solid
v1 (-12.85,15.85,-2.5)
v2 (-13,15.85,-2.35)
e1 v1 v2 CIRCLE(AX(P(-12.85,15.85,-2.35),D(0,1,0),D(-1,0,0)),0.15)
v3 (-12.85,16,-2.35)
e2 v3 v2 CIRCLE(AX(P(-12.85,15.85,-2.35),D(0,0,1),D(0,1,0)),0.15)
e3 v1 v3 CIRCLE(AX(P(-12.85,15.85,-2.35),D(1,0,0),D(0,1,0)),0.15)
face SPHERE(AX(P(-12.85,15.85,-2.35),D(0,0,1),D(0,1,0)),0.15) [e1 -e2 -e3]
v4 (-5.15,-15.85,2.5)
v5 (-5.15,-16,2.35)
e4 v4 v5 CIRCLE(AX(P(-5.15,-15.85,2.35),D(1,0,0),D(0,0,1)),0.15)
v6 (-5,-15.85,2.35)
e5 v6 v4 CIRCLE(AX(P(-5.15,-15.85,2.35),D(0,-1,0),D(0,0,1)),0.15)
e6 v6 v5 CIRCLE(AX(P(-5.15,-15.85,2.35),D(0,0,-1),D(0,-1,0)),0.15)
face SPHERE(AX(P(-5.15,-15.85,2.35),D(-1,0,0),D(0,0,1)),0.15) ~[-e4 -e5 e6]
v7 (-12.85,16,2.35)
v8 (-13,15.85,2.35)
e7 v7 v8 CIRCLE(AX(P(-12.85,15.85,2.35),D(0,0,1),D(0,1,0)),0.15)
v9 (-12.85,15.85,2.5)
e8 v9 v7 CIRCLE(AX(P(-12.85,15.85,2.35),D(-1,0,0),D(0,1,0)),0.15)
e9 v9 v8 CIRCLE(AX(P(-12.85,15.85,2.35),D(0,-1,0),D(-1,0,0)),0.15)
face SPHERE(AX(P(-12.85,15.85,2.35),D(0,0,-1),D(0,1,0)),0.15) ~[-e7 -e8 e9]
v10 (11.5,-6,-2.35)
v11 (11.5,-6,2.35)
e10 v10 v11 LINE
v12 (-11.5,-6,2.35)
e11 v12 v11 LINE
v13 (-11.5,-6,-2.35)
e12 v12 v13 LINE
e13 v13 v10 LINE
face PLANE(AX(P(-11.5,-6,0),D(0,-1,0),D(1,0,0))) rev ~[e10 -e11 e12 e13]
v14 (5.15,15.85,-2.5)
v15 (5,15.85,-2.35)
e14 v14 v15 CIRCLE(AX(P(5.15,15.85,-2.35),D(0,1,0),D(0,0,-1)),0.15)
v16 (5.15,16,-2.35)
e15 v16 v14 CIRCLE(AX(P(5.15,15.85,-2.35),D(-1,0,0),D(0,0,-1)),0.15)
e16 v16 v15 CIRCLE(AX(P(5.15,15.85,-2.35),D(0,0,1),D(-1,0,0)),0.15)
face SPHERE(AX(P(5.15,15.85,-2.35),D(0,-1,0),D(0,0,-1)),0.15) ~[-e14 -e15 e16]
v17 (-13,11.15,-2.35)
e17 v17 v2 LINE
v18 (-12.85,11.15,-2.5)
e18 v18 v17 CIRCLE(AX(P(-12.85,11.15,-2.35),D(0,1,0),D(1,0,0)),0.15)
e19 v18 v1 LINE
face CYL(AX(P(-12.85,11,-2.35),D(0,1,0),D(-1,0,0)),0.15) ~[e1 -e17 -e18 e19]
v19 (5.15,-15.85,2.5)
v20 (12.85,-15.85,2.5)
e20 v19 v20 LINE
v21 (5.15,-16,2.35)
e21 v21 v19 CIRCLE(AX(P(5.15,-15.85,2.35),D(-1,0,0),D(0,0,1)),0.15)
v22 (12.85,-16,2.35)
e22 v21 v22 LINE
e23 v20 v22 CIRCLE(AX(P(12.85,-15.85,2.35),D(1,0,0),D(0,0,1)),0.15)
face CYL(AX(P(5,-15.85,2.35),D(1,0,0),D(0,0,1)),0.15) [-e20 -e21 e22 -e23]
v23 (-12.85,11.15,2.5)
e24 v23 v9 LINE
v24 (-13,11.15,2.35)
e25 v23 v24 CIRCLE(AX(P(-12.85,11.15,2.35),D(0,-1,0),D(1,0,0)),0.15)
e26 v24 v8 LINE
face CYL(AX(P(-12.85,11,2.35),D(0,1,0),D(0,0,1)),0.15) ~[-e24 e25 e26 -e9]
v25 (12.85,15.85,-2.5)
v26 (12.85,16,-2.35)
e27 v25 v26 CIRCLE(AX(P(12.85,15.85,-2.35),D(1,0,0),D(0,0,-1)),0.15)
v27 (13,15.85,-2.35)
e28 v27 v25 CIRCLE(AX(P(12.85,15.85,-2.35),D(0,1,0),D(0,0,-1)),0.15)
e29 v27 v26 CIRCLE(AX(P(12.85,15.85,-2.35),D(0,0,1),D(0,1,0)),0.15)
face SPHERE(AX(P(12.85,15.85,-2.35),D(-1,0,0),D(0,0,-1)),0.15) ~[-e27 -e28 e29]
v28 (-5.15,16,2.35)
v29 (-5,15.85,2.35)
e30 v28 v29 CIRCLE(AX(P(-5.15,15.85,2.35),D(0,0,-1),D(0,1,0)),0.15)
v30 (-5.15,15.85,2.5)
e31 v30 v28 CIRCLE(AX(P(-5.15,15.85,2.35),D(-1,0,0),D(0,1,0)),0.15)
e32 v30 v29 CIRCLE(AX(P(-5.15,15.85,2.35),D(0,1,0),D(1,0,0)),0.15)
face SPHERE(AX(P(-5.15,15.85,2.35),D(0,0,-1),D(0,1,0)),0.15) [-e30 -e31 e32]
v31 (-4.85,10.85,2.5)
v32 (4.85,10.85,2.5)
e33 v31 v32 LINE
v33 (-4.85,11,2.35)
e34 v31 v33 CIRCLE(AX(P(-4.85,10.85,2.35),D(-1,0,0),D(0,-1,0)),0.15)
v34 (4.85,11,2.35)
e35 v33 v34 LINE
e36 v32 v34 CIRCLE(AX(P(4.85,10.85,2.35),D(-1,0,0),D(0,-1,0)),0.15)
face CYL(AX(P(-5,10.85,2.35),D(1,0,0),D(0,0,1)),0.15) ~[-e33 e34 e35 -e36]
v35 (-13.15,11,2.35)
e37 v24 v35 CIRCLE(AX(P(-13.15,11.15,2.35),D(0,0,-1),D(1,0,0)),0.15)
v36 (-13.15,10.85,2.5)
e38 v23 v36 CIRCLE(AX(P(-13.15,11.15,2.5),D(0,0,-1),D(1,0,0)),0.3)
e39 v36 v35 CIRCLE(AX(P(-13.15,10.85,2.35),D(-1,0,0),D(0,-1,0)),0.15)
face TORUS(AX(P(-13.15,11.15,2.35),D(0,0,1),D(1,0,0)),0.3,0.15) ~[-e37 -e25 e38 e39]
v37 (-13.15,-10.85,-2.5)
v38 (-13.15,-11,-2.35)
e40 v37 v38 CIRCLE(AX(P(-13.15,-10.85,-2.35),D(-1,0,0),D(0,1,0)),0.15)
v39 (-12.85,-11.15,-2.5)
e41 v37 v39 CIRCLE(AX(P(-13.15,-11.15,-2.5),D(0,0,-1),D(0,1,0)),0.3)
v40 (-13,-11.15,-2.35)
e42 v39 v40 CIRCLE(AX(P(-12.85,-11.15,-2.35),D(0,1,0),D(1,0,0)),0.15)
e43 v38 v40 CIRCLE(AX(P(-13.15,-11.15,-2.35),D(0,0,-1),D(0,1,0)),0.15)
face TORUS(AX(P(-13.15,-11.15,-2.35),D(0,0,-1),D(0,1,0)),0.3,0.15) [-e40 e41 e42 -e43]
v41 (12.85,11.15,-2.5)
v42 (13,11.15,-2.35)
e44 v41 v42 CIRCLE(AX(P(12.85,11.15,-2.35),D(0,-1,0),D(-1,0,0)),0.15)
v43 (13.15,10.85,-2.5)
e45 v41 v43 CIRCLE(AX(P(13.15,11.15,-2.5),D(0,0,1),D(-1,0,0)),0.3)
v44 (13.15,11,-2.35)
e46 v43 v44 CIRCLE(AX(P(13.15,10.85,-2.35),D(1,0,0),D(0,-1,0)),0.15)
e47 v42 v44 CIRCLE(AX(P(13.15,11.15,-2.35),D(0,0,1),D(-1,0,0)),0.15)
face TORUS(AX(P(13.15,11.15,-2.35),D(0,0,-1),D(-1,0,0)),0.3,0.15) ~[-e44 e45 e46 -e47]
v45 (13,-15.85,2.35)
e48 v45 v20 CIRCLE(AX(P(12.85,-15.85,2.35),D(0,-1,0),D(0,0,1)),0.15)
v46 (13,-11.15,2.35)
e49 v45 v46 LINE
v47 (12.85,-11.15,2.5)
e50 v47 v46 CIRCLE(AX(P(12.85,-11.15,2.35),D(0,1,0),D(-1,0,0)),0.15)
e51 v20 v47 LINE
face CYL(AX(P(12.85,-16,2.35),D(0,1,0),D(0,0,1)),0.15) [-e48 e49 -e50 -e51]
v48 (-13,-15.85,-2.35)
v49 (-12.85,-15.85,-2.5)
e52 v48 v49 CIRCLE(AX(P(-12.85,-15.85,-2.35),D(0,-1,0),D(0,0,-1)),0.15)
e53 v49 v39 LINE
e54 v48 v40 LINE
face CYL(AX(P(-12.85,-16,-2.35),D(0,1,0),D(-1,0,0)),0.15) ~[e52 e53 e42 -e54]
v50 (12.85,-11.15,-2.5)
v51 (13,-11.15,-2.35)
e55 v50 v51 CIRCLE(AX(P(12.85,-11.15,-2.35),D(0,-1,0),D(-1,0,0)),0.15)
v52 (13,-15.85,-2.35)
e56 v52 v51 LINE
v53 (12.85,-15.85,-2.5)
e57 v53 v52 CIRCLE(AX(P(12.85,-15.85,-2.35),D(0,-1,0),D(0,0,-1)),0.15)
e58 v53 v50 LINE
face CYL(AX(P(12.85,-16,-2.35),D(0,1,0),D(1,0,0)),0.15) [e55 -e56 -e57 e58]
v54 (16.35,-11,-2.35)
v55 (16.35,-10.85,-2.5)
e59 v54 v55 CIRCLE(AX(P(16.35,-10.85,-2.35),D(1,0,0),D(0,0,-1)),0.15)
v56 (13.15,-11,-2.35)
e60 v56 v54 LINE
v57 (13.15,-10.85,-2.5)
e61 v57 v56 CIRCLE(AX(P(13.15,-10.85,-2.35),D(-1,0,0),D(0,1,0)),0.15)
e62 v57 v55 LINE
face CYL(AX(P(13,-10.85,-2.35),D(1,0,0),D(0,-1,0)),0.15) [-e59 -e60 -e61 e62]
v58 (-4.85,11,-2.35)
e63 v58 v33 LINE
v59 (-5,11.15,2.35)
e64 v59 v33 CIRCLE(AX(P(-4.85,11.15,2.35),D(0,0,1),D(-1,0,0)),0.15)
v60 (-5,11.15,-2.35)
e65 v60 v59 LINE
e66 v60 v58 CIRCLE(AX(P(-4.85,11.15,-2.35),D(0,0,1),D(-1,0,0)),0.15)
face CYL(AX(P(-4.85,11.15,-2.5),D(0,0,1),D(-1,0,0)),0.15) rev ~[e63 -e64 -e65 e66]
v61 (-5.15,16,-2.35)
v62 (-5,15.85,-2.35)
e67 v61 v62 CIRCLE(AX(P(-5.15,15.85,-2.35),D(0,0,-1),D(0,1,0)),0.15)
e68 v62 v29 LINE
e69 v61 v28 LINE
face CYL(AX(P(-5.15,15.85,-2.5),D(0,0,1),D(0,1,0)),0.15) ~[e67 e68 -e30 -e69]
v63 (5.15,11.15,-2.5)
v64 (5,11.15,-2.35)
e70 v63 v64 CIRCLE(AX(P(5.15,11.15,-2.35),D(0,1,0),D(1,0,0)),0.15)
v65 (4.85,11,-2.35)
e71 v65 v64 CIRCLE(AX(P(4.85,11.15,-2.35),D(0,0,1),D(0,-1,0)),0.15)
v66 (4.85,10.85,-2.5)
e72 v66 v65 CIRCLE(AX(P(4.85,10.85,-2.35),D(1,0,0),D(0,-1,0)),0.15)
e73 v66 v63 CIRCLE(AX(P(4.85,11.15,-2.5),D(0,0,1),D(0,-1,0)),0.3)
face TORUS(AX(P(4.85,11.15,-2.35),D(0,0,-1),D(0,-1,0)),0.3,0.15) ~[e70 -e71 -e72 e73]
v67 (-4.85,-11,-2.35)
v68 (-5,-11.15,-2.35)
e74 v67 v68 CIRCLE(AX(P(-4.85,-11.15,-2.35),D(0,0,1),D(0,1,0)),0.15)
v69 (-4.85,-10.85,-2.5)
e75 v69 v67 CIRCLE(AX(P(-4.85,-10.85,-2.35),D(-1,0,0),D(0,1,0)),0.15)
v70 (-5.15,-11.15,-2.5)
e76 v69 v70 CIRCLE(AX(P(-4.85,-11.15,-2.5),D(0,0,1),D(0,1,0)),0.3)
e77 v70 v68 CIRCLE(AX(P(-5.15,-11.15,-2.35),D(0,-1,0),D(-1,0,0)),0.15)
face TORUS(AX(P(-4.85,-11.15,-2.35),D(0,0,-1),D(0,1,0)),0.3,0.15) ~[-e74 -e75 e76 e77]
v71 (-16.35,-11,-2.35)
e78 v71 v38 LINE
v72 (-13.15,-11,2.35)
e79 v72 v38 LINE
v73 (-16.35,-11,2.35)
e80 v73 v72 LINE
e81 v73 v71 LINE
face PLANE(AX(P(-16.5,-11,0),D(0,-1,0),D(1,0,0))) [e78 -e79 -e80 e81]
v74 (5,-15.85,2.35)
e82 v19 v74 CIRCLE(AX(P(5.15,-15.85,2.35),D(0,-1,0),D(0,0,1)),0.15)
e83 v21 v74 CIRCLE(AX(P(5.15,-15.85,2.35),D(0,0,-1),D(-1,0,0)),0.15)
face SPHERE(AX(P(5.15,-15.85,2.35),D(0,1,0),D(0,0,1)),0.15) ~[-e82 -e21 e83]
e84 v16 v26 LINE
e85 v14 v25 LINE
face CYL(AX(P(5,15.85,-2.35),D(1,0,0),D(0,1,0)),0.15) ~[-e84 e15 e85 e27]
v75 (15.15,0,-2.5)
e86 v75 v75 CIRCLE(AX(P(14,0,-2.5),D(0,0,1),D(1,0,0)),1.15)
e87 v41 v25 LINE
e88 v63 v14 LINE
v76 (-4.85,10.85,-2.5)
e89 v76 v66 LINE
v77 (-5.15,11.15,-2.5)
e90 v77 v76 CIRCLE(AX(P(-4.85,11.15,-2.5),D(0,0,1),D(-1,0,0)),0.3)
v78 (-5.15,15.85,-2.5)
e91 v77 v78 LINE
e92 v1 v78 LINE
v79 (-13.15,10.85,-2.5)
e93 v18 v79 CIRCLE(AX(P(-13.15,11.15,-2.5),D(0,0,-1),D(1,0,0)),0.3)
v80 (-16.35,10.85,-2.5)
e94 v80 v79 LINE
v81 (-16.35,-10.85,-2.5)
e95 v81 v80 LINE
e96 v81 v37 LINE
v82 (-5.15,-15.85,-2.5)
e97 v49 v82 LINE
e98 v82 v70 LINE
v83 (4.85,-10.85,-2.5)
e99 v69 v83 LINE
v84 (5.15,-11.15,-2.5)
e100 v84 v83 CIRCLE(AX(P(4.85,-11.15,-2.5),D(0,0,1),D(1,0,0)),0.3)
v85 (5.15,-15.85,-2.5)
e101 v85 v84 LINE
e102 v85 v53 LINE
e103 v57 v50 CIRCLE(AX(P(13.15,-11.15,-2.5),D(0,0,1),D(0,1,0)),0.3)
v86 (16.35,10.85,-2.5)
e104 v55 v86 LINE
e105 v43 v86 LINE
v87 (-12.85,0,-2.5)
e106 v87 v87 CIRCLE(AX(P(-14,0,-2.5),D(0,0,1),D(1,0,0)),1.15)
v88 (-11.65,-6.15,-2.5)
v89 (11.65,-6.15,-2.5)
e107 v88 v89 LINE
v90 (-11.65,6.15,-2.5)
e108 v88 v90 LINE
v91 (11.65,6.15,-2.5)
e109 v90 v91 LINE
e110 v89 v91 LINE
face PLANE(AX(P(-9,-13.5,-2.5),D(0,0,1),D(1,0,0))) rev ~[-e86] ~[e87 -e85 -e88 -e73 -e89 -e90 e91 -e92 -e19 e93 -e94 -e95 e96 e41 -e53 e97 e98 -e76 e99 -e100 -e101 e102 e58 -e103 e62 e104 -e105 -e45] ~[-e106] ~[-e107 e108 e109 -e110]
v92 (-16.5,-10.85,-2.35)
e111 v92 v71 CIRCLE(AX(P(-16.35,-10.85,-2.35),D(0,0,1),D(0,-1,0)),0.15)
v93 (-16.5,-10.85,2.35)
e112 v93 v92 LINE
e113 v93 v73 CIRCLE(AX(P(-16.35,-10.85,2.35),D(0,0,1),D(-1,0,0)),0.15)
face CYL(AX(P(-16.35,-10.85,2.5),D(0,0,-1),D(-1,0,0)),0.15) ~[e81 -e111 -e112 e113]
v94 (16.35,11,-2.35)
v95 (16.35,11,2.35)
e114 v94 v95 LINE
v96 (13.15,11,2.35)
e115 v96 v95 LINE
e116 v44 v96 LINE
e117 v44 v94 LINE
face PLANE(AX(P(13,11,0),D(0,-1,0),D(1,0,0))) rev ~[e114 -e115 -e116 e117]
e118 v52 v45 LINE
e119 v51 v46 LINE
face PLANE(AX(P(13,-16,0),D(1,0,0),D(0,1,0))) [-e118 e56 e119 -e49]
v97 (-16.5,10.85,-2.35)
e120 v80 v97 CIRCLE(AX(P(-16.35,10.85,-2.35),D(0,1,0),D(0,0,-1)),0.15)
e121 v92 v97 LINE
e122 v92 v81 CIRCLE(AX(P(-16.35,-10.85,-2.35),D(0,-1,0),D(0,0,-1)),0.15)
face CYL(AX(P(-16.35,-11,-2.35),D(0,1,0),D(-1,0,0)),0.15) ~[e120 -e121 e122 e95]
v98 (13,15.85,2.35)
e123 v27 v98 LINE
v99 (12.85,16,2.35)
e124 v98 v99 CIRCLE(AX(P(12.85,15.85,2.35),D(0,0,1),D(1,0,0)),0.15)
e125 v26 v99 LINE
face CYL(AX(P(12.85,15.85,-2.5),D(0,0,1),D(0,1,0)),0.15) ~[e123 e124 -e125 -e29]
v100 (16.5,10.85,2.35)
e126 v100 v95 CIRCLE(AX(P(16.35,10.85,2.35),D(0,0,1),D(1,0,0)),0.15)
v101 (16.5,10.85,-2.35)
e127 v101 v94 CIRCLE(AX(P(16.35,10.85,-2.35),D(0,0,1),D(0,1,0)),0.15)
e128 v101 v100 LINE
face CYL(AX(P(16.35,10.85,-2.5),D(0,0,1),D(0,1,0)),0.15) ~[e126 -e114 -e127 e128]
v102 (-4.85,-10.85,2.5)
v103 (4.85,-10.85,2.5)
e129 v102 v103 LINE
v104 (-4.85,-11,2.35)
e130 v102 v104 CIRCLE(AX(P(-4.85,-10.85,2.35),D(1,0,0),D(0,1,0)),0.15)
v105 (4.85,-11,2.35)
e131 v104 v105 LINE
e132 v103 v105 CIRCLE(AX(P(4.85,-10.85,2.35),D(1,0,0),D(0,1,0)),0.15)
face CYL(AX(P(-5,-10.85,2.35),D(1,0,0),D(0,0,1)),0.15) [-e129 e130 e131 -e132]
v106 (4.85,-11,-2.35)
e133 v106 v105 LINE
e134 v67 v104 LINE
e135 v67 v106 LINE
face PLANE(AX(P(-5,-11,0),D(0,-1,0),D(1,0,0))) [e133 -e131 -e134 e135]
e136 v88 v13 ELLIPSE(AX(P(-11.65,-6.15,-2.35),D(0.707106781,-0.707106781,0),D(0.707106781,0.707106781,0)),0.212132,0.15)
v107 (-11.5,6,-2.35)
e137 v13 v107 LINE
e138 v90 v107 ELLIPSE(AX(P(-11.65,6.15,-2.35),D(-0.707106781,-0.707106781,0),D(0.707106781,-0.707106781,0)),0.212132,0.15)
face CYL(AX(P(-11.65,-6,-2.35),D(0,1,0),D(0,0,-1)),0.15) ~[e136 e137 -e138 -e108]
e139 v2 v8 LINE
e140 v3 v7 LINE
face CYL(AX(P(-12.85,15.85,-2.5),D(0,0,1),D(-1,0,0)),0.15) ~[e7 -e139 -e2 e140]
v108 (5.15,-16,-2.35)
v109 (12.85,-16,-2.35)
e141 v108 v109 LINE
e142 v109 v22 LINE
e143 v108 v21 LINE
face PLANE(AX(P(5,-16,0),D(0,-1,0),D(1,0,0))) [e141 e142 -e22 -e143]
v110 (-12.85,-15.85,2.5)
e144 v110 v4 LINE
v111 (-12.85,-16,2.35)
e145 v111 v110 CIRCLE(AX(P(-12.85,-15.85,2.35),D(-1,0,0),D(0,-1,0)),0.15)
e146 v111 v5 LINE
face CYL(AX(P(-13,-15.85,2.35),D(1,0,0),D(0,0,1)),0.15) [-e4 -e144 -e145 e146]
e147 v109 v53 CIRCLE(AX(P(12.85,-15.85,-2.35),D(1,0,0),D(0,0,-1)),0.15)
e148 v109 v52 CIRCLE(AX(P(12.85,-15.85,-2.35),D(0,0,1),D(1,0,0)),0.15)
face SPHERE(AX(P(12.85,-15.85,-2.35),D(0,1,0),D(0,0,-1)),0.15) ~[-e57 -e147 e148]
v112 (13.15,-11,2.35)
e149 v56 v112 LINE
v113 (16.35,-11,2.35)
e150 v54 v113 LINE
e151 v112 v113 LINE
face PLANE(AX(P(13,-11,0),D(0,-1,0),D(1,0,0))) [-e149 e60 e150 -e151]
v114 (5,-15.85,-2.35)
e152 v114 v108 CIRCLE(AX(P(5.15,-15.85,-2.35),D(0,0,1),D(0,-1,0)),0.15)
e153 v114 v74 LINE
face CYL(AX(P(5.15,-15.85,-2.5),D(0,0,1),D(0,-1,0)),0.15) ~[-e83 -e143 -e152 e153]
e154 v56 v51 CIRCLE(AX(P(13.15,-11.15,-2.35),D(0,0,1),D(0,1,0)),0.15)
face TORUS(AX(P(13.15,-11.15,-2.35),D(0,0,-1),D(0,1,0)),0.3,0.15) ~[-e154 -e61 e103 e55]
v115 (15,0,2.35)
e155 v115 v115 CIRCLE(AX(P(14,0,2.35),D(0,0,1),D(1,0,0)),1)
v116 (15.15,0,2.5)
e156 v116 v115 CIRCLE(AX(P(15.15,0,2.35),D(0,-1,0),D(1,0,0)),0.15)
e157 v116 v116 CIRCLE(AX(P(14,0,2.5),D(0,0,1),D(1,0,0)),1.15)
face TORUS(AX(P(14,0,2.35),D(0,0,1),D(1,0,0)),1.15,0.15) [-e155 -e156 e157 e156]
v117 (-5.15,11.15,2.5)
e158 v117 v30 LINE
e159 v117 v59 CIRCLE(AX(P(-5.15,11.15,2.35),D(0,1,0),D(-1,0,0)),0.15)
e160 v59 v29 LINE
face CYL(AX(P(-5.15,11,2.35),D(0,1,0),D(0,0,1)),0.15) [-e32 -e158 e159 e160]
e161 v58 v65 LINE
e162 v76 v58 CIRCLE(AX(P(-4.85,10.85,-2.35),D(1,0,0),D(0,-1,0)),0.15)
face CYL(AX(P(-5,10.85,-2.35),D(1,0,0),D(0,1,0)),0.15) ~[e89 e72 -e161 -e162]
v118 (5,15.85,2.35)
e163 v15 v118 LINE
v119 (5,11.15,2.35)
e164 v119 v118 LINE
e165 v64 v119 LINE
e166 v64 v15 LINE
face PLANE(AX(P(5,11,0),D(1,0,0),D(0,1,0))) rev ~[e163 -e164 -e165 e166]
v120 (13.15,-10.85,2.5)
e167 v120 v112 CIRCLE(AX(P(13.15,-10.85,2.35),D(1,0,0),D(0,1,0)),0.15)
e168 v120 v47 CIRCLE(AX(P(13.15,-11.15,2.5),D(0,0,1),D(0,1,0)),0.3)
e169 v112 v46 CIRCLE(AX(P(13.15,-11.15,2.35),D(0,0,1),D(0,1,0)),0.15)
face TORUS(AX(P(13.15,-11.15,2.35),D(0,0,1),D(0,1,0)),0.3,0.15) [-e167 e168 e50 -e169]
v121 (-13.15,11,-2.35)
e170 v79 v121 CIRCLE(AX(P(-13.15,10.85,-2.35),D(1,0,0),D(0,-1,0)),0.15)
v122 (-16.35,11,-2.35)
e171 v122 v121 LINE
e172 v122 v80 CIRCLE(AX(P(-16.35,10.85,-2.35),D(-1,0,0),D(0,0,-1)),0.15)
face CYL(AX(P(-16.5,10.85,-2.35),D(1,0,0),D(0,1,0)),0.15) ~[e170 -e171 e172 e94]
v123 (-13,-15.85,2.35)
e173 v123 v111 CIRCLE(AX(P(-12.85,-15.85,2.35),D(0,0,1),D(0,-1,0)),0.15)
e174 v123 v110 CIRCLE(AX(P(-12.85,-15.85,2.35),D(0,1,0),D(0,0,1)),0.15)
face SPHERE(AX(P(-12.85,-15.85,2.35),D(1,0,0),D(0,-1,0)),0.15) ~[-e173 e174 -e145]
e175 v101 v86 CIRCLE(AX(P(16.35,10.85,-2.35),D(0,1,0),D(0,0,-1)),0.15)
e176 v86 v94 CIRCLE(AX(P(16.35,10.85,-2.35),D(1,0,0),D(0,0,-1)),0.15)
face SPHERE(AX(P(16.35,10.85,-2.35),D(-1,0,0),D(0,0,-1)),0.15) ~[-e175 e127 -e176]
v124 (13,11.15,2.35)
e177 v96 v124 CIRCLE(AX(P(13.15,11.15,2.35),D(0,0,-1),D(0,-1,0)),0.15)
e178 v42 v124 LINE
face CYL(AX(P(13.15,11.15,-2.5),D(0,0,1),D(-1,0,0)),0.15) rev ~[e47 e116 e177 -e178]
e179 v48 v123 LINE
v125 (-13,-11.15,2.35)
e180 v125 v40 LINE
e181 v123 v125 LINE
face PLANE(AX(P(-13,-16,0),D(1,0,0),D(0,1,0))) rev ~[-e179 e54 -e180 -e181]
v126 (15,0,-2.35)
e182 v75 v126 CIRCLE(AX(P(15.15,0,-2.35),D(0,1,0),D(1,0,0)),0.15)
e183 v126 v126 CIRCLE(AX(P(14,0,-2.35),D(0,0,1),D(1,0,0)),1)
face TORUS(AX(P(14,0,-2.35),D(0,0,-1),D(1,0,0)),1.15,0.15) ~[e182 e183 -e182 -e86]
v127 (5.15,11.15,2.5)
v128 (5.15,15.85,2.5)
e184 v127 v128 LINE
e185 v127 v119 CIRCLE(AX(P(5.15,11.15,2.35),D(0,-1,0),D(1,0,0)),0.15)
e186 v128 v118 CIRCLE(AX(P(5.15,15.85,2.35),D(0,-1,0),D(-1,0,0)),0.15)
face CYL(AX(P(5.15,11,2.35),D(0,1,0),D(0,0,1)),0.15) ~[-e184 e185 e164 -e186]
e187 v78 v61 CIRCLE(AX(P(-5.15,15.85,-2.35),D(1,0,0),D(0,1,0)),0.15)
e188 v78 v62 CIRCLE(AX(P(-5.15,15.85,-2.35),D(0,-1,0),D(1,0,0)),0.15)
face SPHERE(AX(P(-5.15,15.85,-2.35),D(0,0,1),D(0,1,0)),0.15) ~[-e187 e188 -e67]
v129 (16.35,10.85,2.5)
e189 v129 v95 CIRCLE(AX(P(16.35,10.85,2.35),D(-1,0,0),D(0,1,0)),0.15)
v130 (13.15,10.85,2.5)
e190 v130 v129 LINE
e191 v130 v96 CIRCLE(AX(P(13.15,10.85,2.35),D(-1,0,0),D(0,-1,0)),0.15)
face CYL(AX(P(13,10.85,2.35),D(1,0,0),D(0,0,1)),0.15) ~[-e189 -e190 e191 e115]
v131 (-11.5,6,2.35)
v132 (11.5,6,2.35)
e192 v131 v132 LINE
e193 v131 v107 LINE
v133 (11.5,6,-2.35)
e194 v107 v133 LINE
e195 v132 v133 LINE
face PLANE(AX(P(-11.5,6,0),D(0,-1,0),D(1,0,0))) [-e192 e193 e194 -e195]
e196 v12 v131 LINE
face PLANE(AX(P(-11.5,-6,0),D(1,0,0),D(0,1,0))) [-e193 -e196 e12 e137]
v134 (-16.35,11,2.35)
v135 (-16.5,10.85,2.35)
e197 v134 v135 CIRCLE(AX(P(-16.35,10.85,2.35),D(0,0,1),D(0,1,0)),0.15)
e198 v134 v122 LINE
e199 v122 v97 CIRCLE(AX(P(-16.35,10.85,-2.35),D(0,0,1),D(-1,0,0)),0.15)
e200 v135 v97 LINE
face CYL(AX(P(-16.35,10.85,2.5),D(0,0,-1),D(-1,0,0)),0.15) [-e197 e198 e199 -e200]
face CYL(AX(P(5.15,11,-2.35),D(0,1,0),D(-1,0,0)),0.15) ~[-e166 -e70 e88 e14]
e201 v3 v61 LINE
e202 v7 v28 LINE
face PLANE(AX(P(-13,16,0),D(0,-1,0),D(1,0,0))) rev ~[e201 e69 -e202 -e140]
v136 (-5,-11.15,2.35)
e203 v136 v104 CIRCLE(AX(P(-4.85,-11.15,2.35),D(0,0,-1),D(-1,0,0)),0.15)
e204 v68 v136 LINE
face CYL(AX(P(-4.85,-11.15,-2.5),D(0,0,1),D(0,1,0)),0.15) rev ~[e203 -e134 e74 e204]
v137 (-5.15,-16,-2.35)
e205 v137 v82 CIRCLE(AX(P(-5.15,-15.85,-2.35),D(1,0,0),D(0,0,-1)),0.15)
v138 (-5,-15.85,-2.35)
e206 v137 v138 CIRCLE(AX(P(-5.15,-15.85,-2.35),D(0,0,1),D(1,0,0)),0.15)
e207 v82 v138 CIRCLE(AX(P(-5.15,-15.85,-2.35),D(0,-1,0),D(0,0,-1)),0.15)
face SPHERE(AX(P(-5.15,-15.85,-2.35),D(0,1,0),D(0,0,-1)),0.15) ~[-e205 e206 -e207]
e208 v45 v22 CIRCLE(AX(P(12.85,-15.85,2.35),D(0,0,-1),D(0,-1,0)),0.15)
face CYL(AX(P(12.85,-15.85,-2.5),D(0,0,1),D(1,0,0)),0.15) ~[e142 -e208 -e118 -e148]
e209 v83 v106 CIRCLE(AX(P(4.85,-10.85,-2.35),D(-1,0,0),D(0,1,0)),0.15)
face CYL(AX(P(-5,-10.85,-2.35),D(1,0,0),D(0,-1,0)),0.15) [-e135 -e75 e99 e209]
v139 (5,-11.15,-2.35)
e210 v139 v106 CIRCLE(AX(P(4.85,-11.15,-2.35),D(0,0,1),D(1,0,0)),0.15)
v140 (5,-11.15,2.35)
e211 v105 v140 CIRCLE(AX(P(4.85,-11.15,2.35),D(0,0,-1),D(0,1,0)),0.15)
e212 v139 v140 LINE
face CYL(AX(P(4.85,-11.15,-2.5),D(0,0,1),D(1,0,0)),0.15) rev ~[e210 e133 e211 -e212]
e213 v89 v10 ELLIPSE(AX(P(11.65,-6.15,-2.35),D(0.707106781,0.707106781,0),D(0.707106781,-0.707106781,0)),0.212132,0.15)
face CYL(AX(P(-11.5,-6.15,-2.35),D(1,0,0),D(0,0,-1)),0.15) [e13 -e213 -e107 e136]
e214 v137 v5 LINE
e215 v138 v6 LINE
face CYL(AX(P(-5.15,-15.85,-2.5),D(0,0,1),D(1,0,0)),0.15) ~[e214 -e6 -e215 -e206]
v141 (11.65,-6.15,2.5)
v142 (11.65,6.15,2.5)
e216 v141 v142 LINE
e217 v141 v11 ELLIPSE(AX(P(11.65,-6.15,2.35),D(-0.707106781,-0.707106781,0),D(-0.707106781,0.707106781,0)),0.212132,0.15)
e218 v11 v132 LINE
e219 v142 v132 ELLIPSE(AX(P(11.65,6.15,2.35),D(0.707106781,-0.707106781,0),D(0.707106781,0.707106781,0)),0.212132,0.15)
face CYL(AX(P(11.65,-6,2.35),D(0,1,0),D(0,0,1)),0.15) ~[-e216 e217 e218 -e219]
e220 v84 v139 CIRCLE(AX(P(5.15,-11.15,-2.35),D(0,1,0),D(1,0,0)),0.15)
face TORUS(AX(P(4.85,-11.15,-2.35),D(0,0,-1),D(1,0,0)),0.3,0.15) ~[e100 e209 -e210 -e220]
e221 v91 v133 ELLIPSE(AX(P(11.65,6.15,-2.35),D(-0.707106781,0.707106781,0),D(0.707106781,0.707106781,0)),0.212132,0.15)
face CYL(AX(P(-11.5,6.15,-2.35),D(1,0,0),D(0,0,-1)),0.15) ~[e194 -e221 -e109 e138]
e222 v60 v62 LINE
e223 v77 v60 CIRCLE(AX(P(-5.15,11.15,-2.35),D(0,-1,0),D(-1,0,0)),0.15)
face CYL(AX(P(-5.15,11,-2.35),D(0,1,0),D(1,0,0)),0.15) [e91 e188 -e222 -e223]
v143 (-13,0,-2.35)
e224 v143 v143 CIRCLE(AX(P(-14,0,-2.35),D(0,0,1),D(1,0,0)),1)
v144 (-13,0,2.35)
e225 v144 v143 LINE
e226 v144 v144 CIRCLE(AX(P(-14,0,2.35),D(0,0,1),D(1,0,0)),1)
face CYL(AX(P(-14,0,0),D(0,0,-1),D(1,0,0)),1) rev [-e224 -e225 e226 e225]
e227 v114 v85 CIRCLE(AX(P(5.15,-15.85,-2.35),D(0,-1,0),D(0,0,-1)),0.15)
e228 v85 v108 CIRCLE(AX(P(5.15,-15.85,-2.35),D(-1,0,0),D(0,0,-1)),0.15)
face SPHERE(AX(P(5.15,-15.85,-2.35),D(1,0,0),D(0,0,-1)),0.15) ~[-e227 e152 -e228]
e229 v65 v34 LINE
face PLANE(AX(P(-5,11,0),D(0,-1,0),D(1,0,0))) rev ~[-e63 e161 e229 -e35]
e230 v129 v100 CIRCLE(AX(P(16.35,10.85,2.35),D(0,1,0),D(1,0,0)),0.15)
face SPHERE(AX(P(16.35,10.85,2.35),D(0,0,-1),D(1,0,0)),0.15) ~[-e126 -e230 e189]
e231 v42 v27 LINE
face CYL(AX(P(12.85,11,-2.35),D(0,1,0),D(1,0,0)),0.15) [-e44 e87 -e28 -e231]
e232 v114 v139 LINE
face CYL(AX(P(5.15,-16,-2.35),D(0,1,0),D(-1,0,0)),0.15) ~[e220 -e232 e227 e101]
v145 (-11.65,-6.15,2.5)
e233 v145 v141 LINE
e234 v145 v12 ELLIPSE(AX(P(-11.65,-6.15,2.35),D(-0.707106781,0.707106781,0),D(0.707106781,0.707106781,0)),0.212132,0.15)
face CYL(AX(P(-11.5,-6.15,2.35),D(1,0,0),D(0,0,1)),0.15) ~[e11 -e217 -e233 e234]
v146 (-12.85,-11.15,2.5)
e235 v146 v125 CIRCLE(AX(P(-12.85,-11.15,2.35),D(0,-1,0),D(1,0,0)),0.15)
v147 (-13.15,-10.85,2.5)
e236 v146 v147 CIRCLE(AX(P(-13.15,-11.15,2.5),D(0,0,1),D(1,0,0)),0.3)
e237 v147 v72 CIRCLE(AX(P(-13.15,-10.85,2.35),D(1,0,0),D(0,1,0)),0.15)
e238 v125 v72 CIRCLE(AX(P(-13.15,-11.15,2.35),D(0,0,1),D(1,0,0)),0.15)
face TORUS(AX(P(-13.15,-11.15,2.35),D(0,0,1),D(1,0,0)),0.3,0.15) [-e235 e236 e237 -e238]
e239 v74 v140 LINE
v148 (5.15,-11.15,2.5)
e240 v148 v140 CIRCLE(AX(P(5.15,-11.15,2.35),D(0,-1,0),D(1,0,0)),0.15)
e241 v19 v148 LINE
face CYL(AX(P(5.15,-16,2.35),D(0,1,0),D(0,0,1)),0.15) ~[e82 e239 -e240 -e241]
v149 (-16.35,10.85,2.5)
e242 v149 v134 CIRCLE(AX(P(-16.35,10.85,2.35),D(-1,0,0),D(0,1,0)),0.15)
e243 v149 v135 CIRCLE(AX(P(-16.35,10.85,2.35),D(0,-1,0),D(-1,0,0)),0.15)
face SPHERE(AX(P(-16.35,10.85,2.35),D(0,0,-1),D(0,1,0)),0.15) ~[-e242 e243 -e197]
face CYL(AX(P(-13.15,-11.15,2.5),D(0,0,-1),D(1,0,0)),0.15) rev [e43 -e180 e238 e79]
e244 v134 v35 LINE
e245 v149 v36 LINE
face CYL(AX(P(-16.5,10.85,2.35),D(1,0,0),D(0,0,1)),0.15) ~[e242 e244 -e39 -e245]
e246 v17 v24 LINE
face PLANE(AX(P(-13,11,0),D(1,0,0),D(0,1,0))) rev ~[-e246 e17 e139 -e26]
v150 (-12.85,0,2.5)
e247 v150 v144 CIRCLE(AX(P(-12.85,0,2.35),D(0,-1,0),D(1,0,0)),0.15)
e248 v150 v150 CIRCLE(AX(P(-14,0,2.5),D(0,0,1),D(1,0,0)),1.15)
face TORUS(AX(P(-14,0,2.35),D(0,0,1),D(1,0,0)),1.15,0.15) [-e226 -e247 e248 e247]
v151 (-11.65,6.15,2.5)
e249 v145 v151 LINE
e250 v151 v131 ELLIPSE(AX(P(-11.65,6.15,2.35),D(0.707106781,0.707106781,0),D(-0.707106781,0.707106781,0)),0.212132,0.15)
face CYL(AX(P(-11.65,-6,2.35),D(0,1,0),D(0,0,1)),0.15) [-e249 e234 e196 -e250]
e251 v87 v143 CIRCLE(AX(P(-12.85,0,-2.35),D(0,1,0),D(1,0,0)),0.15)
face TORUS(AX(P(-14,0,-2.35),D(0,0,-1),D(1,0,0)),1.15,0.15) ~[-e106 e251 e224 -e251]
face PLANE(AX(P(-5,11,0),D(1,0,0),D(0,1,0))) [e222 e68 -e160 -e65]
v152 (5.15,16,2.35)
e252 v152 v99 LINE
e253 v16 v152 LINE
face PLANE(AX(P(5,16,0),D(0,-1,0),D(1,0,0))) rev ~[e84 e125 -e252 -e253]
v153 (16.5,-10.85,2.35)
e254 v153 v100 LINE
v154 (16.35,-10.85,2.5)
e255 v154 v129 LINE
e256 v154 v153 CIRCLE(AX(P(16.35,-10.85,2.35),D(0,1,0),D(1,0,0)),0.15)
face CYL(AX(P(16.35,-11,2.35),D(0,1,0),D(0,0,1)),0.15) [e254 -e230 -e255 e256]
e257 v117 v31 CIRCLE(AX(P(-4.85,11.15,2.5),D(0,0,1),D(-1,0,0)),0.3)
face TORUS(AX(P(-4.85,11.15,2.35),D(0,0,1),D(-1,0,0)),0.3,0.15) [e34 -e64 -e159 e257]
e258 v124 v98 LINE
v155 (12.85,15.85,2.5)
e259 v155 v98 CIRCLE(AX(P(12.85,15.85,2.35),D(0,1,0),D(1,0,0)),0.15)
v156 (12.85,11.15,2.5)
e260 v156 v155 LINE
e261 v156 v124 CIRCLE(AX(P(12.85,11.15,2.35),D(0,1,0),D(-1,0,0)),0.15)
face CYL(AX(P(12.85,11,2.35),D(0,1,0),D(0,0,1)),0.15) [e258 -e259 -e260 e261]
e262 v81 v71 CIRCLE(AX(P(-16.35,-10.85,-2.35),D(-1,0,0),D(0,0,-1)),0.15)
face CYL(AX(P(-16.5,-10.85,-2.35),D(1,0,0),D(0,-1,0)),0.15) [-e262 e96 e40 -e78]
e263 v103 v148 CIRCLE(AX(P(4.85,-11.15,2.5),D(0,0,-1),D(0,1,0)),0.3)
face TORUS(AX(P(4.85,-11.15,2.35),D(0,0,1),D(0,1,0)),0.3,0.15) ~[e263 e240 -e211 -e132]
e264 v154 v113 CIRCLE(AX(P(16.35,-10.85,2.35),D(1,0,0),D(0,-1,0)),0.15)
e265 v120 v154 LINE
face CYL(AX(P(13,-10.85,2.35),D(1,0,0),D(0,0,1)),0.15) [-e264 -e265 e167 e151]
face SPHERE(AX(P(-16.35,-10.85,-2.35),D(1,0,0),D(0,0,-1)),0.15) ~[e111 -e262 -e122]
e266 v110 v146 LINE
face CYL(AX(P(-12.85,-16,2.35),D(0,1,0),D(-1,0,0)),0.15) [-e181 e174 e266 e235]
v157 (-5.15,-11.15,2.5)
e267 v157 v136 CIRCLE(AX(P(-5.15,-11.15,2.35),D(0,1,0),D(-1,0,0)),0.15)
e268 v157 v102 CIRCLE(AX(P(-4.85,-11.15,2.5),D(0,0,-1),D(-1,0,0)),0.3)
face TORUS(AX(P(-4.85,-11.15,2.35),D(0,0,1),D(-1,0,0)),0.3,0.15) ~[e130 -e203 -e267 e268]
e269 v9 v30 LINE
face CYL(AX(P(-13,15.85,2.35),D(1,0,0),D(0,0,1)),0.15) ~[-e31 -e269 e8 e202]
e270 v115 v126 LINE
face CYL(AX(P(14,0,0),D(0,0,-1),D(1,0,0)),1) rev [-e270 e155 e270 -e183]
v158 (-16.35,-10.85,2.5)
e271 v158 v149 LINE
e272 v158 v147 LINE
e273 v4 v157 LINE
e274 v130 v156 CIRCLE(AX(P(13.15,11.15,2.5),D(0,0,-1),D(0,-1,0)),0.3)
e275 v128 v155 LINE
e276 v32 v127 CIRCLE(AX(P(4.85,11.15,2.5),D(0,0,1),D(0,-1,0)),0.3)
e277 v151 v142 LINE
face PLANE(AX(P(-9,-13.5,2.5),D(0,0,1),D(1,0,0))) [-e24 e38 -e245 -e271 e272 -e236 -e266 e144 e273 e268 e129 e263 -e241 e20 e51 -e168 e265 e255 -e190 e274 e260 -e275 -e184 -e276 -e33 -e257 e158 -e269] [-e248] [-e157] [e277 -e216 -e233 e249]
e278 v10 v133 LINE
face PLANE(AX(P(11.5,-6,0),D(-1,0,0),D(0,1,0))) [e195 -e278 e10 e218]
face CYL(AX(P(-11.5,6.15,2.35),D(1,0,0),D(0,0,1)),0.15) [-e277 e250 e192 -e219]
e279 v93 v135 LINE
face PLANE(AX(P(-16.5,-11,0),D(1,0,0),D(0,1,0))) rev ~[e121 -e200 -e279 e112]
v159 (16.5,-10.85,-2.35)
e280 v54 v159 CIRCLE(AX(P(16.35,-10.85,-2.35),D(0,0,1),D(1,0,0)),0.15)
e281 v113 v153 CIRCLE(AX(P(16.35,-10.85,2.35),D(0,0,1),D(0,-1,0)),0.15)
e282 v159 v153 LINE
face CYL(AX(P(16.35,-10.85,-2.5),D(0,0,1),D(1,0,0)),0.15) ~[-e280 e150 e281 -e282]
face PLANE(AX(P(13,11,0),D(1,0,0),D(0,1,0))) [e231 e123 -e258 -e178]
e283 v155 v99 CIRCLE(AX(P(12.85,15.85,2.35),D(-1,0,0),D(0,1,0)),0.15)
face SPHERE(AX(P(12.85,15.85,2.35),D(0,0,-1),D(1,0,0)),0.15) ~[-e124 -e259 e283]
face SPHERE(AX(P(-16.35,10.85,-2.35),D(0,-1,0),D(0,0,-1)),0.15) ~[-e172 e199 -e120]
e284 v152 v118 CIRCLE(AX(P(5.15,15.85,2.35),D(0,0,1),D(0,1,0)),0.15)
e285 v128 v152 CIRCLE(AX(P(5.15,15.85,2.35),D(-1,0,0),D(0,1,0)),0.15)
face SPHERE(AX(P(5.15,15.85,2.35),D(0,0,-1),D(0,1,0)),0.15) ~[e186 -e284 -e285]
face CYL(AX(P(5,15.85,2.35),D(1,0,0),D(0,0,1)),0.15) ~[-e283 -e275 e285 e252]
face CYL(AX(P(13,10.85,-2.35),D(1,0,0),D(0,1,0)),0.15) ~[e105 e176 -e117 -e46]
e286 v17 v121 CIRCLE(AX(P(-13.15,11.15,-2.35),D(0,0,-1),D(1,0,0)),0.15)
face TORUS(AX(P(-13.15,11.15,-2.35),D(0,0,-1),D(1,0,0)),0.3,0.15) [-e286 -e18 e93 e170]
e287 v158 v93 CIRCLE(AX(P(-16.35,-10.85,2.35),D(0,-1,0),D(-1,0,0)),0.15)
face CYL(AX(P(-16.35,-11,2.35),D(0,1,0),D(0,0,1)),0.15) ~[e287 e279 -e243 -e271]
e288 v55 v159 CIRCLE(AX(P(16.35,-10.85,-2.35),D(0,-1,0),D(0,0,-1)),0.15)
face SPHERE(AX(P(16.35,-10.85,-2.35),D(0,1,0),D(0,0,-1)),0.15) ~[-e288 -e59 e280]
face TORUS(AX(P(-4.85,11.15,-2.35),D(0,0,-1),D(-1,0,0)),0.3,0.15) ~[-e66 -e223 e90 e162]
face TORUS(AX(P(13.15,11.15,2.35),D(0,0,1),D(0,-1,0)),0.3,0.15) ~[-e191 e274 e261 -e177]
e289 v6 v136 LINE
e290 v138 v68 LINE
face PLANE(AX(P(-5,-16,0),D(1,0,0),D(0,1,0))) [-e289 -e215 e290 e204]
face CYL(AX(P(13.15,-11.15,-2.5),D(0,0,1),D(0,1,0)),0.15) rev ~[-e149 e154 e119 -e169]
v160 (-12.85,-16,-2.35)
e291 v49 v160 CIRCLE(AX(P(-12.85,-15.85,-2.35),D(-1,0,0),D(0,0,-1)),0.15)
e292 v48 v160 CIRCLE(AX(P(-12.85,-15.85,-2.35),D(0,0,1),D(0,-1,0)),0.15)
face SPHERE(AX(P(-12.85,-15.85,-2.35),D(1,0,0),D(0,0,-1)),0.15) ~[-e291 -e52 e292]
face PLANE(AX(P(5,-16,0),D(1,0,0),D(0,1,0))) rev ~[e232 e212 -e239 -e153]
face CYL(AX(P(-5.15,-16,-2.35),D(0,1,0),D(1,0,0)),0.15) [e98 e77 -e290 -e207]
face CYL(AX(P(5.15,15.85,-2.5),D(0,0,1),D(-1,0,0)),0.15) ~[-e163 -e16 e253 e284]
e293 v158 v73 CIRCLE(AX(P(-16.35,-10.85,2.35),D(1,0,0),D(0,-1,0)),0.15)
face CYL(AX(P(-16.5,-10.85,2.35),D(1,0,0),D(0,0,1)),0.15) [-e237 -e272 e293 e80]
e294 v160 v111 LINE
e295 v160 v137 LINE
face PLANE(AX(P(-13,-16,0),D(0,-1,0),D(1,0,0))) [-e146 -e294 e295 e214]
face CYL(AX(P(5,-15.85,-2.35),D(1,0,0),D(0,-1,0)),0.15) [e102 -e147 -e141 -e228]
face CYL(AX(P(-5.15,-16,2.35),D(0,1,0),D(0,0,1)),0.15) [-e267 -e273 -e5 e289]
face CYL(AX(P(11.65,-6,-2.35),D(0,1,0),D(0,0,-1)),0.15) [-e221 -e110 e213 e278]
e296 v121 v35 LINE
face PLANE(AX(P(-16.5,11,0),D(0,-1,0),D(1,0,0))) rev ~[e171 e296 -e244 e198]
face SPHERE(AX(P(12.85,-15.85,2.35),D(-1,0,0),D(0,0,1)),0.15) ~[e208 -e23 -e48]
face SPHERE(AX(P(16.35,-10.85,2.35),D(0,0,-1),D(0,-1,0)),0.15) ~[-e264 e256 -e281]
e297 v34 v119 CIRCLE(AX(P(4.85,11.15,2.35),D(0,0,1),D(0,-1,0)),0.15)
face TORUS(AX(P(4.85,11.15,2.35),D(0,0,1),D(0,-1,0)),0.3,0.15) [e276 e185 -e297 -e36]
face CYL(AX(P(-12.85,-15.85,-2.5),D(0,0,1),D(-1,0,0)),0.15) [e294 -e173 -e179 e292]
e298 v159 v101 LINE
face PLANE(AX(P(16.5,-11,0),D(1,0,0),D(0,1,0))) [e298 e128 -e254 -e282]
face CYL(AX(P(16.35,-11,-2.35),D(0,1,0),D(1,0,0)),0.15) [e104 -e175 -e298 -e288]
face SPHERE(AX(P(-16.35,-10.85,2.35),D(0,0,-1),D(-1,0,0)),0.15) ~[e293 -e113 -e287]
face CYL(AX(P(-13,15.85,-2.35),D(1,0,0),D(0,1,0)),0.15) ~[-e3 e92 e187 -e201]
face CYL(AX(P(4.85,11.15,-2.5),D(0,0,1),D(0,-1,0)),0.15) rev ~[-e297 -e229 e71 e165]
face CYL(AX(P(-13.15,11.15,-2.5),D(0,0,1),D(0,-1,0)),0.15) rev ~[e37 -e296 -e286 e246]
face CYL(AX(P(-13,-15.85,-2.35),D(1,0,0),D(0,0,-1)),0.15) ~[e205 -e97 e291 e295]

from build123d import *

# Parameters (mm, degrees)
SKETCH1_W           = 8
SKETCH1_H           = 5
SKETCH1_W_2         = 33
SKETCH1_H_2         = 22
SKETCH1_R           = 1
SKETCH1_W_3         = 23
SKETCH1_H_3         = 12
BOSS_EXTRUDE1_DEPTH = 2.5
FILLET2_R           = 0.15
FILLET3_R           = 0.15


with BuildPart() as part:
    # Sketch1 → Boss-Extrude1 (new body, symmetric)
    with BuildSketch(Plane.XY):
        with Locations((-9, -13.5)):
            Rectangle(SKETCH1_W, SKETCH1_H)
        with Locations((9, -13.5)):
            Rectangle(SKETCH1_W, SKETCH1_H)
        Rectangle(SKETCH1_W_2, SKETCH1_H_2)
        with Locations((-14, 0)):
            Circle(SKETCH1_R, mode=Mode.SUBTRACT)
        with Locations((14, 0)):
            Circle(SKETCH1_R, mode=Mode.SUBTRACT)
        Rectangle(SKETCH1_W_3, SKETCH1_H_3, mode=Mode.SUBTRACT)
        with Locations((9, 13.5)):
            Rectangle(SKETCH1_W, SKETCH1_H)
        with Locations((-9, 13.5)):
            Rectangle(SKETCH1_W, SKETCH1_H)
    extrude(amount=BOSS_EXTRUDE1_DEPTH, both=True)

    # Fillet2
    fillet2_edges = [part.edges().sort_by_distance(p)[0] for p in [
        (-9, -16, 2.5),
        (-5, -13.5, 2.5),
        (0, -11, 2.5),
        (-14.75, -11, -2.5),
        (-16.5, 0, -2.5),
        (5, -13.5, 2.5),
        (-14.75, 11, -2.5),
        (5, 13.5, -2.5),
        (9, 16, -2.5),
        (13, 13.5, -2.5),
        (14.75, 11, -2.5),
        (16.5, 0, -2.5),
        (14.75, -11, -2.5),
        (13, -13.5, -2.5),
        (9, -16, -2.5),
        (5, -13.5, -2.5),
        (9, -16, 2.5),
        (0, -11, -2.5),
        (-5, -13.5, -2.5),
        (-9, -16, -2.5),
        (-13, -13.5, -2.5),
        (13, -13.5, 2.5),
        (-13, -11, 0),
        (-16.5, -11, 0),
        (-16.5, 11, 0),
        (5, 11, 0),
        (5, 16, 0),
        (13, 16, 0),
        (13, 11, 0),
        (16.5, 11, 0),
        (16.5, -11, 0),
        (13, -11, 0),
        (13, -16, 0),
        (5, -16, 0),
        (5, -11, 0),
        (14.75, -11, 2.5),
        (-5, -11, 0),
        (-5, -16, 0),
        (-13, -16, 0),
        (16.5, 0, 2.5),
        (14.75, 11, 2.5),
        (13, 13.5, 2.5),
        (0, 11, -2.5),
        (9, 16, 2.5),
        (0, 11, 2.5),
        (-5, 11, 0),
        (-13, 11, 0),
        (5, 13.5, 2.5),
        (-5, 16, 0),
        (-13, 16, 0),
        (-9, 16, 2.5),
        (-5, 13.5, 2.5),
        (-13, 13.5, 2.5),
        (-9, 16, -2.5),
        (-14.75, 11, 2.5),
        (-5, 13.5, -2.5),
        (-13, 13.5, -2.5),
        (-16.5, 0, 2.5),
        (-13, -13.5, 2.5),
        (-14.75, -11, 2.5),
    ]]
    fillet(fillet2_edges, radius=FILLET2_R)

    # Fillet3
    fillet3_edges = [part.edges().sort_by_distance(p)[0] for p in [
        (-15, 0, 2.5),
        (13, 0, 2.5),
        (13, 0, -2.5),
        (-15, 0, -2.5),
        (0, 6, -2.5),
        (-11.5, 0, -2.5),
        (0, -6, -2.5),
        (11.5, 0, -2.5),
        (11.5, 0, 2.5),
        (0, -6, 2.5),
        (-11.5, 0, 2.5),
        (0, 6, 2.5),
    ]]
    fillet(fillet3_edges, radius=FILLET3_R)


solid = part.part
